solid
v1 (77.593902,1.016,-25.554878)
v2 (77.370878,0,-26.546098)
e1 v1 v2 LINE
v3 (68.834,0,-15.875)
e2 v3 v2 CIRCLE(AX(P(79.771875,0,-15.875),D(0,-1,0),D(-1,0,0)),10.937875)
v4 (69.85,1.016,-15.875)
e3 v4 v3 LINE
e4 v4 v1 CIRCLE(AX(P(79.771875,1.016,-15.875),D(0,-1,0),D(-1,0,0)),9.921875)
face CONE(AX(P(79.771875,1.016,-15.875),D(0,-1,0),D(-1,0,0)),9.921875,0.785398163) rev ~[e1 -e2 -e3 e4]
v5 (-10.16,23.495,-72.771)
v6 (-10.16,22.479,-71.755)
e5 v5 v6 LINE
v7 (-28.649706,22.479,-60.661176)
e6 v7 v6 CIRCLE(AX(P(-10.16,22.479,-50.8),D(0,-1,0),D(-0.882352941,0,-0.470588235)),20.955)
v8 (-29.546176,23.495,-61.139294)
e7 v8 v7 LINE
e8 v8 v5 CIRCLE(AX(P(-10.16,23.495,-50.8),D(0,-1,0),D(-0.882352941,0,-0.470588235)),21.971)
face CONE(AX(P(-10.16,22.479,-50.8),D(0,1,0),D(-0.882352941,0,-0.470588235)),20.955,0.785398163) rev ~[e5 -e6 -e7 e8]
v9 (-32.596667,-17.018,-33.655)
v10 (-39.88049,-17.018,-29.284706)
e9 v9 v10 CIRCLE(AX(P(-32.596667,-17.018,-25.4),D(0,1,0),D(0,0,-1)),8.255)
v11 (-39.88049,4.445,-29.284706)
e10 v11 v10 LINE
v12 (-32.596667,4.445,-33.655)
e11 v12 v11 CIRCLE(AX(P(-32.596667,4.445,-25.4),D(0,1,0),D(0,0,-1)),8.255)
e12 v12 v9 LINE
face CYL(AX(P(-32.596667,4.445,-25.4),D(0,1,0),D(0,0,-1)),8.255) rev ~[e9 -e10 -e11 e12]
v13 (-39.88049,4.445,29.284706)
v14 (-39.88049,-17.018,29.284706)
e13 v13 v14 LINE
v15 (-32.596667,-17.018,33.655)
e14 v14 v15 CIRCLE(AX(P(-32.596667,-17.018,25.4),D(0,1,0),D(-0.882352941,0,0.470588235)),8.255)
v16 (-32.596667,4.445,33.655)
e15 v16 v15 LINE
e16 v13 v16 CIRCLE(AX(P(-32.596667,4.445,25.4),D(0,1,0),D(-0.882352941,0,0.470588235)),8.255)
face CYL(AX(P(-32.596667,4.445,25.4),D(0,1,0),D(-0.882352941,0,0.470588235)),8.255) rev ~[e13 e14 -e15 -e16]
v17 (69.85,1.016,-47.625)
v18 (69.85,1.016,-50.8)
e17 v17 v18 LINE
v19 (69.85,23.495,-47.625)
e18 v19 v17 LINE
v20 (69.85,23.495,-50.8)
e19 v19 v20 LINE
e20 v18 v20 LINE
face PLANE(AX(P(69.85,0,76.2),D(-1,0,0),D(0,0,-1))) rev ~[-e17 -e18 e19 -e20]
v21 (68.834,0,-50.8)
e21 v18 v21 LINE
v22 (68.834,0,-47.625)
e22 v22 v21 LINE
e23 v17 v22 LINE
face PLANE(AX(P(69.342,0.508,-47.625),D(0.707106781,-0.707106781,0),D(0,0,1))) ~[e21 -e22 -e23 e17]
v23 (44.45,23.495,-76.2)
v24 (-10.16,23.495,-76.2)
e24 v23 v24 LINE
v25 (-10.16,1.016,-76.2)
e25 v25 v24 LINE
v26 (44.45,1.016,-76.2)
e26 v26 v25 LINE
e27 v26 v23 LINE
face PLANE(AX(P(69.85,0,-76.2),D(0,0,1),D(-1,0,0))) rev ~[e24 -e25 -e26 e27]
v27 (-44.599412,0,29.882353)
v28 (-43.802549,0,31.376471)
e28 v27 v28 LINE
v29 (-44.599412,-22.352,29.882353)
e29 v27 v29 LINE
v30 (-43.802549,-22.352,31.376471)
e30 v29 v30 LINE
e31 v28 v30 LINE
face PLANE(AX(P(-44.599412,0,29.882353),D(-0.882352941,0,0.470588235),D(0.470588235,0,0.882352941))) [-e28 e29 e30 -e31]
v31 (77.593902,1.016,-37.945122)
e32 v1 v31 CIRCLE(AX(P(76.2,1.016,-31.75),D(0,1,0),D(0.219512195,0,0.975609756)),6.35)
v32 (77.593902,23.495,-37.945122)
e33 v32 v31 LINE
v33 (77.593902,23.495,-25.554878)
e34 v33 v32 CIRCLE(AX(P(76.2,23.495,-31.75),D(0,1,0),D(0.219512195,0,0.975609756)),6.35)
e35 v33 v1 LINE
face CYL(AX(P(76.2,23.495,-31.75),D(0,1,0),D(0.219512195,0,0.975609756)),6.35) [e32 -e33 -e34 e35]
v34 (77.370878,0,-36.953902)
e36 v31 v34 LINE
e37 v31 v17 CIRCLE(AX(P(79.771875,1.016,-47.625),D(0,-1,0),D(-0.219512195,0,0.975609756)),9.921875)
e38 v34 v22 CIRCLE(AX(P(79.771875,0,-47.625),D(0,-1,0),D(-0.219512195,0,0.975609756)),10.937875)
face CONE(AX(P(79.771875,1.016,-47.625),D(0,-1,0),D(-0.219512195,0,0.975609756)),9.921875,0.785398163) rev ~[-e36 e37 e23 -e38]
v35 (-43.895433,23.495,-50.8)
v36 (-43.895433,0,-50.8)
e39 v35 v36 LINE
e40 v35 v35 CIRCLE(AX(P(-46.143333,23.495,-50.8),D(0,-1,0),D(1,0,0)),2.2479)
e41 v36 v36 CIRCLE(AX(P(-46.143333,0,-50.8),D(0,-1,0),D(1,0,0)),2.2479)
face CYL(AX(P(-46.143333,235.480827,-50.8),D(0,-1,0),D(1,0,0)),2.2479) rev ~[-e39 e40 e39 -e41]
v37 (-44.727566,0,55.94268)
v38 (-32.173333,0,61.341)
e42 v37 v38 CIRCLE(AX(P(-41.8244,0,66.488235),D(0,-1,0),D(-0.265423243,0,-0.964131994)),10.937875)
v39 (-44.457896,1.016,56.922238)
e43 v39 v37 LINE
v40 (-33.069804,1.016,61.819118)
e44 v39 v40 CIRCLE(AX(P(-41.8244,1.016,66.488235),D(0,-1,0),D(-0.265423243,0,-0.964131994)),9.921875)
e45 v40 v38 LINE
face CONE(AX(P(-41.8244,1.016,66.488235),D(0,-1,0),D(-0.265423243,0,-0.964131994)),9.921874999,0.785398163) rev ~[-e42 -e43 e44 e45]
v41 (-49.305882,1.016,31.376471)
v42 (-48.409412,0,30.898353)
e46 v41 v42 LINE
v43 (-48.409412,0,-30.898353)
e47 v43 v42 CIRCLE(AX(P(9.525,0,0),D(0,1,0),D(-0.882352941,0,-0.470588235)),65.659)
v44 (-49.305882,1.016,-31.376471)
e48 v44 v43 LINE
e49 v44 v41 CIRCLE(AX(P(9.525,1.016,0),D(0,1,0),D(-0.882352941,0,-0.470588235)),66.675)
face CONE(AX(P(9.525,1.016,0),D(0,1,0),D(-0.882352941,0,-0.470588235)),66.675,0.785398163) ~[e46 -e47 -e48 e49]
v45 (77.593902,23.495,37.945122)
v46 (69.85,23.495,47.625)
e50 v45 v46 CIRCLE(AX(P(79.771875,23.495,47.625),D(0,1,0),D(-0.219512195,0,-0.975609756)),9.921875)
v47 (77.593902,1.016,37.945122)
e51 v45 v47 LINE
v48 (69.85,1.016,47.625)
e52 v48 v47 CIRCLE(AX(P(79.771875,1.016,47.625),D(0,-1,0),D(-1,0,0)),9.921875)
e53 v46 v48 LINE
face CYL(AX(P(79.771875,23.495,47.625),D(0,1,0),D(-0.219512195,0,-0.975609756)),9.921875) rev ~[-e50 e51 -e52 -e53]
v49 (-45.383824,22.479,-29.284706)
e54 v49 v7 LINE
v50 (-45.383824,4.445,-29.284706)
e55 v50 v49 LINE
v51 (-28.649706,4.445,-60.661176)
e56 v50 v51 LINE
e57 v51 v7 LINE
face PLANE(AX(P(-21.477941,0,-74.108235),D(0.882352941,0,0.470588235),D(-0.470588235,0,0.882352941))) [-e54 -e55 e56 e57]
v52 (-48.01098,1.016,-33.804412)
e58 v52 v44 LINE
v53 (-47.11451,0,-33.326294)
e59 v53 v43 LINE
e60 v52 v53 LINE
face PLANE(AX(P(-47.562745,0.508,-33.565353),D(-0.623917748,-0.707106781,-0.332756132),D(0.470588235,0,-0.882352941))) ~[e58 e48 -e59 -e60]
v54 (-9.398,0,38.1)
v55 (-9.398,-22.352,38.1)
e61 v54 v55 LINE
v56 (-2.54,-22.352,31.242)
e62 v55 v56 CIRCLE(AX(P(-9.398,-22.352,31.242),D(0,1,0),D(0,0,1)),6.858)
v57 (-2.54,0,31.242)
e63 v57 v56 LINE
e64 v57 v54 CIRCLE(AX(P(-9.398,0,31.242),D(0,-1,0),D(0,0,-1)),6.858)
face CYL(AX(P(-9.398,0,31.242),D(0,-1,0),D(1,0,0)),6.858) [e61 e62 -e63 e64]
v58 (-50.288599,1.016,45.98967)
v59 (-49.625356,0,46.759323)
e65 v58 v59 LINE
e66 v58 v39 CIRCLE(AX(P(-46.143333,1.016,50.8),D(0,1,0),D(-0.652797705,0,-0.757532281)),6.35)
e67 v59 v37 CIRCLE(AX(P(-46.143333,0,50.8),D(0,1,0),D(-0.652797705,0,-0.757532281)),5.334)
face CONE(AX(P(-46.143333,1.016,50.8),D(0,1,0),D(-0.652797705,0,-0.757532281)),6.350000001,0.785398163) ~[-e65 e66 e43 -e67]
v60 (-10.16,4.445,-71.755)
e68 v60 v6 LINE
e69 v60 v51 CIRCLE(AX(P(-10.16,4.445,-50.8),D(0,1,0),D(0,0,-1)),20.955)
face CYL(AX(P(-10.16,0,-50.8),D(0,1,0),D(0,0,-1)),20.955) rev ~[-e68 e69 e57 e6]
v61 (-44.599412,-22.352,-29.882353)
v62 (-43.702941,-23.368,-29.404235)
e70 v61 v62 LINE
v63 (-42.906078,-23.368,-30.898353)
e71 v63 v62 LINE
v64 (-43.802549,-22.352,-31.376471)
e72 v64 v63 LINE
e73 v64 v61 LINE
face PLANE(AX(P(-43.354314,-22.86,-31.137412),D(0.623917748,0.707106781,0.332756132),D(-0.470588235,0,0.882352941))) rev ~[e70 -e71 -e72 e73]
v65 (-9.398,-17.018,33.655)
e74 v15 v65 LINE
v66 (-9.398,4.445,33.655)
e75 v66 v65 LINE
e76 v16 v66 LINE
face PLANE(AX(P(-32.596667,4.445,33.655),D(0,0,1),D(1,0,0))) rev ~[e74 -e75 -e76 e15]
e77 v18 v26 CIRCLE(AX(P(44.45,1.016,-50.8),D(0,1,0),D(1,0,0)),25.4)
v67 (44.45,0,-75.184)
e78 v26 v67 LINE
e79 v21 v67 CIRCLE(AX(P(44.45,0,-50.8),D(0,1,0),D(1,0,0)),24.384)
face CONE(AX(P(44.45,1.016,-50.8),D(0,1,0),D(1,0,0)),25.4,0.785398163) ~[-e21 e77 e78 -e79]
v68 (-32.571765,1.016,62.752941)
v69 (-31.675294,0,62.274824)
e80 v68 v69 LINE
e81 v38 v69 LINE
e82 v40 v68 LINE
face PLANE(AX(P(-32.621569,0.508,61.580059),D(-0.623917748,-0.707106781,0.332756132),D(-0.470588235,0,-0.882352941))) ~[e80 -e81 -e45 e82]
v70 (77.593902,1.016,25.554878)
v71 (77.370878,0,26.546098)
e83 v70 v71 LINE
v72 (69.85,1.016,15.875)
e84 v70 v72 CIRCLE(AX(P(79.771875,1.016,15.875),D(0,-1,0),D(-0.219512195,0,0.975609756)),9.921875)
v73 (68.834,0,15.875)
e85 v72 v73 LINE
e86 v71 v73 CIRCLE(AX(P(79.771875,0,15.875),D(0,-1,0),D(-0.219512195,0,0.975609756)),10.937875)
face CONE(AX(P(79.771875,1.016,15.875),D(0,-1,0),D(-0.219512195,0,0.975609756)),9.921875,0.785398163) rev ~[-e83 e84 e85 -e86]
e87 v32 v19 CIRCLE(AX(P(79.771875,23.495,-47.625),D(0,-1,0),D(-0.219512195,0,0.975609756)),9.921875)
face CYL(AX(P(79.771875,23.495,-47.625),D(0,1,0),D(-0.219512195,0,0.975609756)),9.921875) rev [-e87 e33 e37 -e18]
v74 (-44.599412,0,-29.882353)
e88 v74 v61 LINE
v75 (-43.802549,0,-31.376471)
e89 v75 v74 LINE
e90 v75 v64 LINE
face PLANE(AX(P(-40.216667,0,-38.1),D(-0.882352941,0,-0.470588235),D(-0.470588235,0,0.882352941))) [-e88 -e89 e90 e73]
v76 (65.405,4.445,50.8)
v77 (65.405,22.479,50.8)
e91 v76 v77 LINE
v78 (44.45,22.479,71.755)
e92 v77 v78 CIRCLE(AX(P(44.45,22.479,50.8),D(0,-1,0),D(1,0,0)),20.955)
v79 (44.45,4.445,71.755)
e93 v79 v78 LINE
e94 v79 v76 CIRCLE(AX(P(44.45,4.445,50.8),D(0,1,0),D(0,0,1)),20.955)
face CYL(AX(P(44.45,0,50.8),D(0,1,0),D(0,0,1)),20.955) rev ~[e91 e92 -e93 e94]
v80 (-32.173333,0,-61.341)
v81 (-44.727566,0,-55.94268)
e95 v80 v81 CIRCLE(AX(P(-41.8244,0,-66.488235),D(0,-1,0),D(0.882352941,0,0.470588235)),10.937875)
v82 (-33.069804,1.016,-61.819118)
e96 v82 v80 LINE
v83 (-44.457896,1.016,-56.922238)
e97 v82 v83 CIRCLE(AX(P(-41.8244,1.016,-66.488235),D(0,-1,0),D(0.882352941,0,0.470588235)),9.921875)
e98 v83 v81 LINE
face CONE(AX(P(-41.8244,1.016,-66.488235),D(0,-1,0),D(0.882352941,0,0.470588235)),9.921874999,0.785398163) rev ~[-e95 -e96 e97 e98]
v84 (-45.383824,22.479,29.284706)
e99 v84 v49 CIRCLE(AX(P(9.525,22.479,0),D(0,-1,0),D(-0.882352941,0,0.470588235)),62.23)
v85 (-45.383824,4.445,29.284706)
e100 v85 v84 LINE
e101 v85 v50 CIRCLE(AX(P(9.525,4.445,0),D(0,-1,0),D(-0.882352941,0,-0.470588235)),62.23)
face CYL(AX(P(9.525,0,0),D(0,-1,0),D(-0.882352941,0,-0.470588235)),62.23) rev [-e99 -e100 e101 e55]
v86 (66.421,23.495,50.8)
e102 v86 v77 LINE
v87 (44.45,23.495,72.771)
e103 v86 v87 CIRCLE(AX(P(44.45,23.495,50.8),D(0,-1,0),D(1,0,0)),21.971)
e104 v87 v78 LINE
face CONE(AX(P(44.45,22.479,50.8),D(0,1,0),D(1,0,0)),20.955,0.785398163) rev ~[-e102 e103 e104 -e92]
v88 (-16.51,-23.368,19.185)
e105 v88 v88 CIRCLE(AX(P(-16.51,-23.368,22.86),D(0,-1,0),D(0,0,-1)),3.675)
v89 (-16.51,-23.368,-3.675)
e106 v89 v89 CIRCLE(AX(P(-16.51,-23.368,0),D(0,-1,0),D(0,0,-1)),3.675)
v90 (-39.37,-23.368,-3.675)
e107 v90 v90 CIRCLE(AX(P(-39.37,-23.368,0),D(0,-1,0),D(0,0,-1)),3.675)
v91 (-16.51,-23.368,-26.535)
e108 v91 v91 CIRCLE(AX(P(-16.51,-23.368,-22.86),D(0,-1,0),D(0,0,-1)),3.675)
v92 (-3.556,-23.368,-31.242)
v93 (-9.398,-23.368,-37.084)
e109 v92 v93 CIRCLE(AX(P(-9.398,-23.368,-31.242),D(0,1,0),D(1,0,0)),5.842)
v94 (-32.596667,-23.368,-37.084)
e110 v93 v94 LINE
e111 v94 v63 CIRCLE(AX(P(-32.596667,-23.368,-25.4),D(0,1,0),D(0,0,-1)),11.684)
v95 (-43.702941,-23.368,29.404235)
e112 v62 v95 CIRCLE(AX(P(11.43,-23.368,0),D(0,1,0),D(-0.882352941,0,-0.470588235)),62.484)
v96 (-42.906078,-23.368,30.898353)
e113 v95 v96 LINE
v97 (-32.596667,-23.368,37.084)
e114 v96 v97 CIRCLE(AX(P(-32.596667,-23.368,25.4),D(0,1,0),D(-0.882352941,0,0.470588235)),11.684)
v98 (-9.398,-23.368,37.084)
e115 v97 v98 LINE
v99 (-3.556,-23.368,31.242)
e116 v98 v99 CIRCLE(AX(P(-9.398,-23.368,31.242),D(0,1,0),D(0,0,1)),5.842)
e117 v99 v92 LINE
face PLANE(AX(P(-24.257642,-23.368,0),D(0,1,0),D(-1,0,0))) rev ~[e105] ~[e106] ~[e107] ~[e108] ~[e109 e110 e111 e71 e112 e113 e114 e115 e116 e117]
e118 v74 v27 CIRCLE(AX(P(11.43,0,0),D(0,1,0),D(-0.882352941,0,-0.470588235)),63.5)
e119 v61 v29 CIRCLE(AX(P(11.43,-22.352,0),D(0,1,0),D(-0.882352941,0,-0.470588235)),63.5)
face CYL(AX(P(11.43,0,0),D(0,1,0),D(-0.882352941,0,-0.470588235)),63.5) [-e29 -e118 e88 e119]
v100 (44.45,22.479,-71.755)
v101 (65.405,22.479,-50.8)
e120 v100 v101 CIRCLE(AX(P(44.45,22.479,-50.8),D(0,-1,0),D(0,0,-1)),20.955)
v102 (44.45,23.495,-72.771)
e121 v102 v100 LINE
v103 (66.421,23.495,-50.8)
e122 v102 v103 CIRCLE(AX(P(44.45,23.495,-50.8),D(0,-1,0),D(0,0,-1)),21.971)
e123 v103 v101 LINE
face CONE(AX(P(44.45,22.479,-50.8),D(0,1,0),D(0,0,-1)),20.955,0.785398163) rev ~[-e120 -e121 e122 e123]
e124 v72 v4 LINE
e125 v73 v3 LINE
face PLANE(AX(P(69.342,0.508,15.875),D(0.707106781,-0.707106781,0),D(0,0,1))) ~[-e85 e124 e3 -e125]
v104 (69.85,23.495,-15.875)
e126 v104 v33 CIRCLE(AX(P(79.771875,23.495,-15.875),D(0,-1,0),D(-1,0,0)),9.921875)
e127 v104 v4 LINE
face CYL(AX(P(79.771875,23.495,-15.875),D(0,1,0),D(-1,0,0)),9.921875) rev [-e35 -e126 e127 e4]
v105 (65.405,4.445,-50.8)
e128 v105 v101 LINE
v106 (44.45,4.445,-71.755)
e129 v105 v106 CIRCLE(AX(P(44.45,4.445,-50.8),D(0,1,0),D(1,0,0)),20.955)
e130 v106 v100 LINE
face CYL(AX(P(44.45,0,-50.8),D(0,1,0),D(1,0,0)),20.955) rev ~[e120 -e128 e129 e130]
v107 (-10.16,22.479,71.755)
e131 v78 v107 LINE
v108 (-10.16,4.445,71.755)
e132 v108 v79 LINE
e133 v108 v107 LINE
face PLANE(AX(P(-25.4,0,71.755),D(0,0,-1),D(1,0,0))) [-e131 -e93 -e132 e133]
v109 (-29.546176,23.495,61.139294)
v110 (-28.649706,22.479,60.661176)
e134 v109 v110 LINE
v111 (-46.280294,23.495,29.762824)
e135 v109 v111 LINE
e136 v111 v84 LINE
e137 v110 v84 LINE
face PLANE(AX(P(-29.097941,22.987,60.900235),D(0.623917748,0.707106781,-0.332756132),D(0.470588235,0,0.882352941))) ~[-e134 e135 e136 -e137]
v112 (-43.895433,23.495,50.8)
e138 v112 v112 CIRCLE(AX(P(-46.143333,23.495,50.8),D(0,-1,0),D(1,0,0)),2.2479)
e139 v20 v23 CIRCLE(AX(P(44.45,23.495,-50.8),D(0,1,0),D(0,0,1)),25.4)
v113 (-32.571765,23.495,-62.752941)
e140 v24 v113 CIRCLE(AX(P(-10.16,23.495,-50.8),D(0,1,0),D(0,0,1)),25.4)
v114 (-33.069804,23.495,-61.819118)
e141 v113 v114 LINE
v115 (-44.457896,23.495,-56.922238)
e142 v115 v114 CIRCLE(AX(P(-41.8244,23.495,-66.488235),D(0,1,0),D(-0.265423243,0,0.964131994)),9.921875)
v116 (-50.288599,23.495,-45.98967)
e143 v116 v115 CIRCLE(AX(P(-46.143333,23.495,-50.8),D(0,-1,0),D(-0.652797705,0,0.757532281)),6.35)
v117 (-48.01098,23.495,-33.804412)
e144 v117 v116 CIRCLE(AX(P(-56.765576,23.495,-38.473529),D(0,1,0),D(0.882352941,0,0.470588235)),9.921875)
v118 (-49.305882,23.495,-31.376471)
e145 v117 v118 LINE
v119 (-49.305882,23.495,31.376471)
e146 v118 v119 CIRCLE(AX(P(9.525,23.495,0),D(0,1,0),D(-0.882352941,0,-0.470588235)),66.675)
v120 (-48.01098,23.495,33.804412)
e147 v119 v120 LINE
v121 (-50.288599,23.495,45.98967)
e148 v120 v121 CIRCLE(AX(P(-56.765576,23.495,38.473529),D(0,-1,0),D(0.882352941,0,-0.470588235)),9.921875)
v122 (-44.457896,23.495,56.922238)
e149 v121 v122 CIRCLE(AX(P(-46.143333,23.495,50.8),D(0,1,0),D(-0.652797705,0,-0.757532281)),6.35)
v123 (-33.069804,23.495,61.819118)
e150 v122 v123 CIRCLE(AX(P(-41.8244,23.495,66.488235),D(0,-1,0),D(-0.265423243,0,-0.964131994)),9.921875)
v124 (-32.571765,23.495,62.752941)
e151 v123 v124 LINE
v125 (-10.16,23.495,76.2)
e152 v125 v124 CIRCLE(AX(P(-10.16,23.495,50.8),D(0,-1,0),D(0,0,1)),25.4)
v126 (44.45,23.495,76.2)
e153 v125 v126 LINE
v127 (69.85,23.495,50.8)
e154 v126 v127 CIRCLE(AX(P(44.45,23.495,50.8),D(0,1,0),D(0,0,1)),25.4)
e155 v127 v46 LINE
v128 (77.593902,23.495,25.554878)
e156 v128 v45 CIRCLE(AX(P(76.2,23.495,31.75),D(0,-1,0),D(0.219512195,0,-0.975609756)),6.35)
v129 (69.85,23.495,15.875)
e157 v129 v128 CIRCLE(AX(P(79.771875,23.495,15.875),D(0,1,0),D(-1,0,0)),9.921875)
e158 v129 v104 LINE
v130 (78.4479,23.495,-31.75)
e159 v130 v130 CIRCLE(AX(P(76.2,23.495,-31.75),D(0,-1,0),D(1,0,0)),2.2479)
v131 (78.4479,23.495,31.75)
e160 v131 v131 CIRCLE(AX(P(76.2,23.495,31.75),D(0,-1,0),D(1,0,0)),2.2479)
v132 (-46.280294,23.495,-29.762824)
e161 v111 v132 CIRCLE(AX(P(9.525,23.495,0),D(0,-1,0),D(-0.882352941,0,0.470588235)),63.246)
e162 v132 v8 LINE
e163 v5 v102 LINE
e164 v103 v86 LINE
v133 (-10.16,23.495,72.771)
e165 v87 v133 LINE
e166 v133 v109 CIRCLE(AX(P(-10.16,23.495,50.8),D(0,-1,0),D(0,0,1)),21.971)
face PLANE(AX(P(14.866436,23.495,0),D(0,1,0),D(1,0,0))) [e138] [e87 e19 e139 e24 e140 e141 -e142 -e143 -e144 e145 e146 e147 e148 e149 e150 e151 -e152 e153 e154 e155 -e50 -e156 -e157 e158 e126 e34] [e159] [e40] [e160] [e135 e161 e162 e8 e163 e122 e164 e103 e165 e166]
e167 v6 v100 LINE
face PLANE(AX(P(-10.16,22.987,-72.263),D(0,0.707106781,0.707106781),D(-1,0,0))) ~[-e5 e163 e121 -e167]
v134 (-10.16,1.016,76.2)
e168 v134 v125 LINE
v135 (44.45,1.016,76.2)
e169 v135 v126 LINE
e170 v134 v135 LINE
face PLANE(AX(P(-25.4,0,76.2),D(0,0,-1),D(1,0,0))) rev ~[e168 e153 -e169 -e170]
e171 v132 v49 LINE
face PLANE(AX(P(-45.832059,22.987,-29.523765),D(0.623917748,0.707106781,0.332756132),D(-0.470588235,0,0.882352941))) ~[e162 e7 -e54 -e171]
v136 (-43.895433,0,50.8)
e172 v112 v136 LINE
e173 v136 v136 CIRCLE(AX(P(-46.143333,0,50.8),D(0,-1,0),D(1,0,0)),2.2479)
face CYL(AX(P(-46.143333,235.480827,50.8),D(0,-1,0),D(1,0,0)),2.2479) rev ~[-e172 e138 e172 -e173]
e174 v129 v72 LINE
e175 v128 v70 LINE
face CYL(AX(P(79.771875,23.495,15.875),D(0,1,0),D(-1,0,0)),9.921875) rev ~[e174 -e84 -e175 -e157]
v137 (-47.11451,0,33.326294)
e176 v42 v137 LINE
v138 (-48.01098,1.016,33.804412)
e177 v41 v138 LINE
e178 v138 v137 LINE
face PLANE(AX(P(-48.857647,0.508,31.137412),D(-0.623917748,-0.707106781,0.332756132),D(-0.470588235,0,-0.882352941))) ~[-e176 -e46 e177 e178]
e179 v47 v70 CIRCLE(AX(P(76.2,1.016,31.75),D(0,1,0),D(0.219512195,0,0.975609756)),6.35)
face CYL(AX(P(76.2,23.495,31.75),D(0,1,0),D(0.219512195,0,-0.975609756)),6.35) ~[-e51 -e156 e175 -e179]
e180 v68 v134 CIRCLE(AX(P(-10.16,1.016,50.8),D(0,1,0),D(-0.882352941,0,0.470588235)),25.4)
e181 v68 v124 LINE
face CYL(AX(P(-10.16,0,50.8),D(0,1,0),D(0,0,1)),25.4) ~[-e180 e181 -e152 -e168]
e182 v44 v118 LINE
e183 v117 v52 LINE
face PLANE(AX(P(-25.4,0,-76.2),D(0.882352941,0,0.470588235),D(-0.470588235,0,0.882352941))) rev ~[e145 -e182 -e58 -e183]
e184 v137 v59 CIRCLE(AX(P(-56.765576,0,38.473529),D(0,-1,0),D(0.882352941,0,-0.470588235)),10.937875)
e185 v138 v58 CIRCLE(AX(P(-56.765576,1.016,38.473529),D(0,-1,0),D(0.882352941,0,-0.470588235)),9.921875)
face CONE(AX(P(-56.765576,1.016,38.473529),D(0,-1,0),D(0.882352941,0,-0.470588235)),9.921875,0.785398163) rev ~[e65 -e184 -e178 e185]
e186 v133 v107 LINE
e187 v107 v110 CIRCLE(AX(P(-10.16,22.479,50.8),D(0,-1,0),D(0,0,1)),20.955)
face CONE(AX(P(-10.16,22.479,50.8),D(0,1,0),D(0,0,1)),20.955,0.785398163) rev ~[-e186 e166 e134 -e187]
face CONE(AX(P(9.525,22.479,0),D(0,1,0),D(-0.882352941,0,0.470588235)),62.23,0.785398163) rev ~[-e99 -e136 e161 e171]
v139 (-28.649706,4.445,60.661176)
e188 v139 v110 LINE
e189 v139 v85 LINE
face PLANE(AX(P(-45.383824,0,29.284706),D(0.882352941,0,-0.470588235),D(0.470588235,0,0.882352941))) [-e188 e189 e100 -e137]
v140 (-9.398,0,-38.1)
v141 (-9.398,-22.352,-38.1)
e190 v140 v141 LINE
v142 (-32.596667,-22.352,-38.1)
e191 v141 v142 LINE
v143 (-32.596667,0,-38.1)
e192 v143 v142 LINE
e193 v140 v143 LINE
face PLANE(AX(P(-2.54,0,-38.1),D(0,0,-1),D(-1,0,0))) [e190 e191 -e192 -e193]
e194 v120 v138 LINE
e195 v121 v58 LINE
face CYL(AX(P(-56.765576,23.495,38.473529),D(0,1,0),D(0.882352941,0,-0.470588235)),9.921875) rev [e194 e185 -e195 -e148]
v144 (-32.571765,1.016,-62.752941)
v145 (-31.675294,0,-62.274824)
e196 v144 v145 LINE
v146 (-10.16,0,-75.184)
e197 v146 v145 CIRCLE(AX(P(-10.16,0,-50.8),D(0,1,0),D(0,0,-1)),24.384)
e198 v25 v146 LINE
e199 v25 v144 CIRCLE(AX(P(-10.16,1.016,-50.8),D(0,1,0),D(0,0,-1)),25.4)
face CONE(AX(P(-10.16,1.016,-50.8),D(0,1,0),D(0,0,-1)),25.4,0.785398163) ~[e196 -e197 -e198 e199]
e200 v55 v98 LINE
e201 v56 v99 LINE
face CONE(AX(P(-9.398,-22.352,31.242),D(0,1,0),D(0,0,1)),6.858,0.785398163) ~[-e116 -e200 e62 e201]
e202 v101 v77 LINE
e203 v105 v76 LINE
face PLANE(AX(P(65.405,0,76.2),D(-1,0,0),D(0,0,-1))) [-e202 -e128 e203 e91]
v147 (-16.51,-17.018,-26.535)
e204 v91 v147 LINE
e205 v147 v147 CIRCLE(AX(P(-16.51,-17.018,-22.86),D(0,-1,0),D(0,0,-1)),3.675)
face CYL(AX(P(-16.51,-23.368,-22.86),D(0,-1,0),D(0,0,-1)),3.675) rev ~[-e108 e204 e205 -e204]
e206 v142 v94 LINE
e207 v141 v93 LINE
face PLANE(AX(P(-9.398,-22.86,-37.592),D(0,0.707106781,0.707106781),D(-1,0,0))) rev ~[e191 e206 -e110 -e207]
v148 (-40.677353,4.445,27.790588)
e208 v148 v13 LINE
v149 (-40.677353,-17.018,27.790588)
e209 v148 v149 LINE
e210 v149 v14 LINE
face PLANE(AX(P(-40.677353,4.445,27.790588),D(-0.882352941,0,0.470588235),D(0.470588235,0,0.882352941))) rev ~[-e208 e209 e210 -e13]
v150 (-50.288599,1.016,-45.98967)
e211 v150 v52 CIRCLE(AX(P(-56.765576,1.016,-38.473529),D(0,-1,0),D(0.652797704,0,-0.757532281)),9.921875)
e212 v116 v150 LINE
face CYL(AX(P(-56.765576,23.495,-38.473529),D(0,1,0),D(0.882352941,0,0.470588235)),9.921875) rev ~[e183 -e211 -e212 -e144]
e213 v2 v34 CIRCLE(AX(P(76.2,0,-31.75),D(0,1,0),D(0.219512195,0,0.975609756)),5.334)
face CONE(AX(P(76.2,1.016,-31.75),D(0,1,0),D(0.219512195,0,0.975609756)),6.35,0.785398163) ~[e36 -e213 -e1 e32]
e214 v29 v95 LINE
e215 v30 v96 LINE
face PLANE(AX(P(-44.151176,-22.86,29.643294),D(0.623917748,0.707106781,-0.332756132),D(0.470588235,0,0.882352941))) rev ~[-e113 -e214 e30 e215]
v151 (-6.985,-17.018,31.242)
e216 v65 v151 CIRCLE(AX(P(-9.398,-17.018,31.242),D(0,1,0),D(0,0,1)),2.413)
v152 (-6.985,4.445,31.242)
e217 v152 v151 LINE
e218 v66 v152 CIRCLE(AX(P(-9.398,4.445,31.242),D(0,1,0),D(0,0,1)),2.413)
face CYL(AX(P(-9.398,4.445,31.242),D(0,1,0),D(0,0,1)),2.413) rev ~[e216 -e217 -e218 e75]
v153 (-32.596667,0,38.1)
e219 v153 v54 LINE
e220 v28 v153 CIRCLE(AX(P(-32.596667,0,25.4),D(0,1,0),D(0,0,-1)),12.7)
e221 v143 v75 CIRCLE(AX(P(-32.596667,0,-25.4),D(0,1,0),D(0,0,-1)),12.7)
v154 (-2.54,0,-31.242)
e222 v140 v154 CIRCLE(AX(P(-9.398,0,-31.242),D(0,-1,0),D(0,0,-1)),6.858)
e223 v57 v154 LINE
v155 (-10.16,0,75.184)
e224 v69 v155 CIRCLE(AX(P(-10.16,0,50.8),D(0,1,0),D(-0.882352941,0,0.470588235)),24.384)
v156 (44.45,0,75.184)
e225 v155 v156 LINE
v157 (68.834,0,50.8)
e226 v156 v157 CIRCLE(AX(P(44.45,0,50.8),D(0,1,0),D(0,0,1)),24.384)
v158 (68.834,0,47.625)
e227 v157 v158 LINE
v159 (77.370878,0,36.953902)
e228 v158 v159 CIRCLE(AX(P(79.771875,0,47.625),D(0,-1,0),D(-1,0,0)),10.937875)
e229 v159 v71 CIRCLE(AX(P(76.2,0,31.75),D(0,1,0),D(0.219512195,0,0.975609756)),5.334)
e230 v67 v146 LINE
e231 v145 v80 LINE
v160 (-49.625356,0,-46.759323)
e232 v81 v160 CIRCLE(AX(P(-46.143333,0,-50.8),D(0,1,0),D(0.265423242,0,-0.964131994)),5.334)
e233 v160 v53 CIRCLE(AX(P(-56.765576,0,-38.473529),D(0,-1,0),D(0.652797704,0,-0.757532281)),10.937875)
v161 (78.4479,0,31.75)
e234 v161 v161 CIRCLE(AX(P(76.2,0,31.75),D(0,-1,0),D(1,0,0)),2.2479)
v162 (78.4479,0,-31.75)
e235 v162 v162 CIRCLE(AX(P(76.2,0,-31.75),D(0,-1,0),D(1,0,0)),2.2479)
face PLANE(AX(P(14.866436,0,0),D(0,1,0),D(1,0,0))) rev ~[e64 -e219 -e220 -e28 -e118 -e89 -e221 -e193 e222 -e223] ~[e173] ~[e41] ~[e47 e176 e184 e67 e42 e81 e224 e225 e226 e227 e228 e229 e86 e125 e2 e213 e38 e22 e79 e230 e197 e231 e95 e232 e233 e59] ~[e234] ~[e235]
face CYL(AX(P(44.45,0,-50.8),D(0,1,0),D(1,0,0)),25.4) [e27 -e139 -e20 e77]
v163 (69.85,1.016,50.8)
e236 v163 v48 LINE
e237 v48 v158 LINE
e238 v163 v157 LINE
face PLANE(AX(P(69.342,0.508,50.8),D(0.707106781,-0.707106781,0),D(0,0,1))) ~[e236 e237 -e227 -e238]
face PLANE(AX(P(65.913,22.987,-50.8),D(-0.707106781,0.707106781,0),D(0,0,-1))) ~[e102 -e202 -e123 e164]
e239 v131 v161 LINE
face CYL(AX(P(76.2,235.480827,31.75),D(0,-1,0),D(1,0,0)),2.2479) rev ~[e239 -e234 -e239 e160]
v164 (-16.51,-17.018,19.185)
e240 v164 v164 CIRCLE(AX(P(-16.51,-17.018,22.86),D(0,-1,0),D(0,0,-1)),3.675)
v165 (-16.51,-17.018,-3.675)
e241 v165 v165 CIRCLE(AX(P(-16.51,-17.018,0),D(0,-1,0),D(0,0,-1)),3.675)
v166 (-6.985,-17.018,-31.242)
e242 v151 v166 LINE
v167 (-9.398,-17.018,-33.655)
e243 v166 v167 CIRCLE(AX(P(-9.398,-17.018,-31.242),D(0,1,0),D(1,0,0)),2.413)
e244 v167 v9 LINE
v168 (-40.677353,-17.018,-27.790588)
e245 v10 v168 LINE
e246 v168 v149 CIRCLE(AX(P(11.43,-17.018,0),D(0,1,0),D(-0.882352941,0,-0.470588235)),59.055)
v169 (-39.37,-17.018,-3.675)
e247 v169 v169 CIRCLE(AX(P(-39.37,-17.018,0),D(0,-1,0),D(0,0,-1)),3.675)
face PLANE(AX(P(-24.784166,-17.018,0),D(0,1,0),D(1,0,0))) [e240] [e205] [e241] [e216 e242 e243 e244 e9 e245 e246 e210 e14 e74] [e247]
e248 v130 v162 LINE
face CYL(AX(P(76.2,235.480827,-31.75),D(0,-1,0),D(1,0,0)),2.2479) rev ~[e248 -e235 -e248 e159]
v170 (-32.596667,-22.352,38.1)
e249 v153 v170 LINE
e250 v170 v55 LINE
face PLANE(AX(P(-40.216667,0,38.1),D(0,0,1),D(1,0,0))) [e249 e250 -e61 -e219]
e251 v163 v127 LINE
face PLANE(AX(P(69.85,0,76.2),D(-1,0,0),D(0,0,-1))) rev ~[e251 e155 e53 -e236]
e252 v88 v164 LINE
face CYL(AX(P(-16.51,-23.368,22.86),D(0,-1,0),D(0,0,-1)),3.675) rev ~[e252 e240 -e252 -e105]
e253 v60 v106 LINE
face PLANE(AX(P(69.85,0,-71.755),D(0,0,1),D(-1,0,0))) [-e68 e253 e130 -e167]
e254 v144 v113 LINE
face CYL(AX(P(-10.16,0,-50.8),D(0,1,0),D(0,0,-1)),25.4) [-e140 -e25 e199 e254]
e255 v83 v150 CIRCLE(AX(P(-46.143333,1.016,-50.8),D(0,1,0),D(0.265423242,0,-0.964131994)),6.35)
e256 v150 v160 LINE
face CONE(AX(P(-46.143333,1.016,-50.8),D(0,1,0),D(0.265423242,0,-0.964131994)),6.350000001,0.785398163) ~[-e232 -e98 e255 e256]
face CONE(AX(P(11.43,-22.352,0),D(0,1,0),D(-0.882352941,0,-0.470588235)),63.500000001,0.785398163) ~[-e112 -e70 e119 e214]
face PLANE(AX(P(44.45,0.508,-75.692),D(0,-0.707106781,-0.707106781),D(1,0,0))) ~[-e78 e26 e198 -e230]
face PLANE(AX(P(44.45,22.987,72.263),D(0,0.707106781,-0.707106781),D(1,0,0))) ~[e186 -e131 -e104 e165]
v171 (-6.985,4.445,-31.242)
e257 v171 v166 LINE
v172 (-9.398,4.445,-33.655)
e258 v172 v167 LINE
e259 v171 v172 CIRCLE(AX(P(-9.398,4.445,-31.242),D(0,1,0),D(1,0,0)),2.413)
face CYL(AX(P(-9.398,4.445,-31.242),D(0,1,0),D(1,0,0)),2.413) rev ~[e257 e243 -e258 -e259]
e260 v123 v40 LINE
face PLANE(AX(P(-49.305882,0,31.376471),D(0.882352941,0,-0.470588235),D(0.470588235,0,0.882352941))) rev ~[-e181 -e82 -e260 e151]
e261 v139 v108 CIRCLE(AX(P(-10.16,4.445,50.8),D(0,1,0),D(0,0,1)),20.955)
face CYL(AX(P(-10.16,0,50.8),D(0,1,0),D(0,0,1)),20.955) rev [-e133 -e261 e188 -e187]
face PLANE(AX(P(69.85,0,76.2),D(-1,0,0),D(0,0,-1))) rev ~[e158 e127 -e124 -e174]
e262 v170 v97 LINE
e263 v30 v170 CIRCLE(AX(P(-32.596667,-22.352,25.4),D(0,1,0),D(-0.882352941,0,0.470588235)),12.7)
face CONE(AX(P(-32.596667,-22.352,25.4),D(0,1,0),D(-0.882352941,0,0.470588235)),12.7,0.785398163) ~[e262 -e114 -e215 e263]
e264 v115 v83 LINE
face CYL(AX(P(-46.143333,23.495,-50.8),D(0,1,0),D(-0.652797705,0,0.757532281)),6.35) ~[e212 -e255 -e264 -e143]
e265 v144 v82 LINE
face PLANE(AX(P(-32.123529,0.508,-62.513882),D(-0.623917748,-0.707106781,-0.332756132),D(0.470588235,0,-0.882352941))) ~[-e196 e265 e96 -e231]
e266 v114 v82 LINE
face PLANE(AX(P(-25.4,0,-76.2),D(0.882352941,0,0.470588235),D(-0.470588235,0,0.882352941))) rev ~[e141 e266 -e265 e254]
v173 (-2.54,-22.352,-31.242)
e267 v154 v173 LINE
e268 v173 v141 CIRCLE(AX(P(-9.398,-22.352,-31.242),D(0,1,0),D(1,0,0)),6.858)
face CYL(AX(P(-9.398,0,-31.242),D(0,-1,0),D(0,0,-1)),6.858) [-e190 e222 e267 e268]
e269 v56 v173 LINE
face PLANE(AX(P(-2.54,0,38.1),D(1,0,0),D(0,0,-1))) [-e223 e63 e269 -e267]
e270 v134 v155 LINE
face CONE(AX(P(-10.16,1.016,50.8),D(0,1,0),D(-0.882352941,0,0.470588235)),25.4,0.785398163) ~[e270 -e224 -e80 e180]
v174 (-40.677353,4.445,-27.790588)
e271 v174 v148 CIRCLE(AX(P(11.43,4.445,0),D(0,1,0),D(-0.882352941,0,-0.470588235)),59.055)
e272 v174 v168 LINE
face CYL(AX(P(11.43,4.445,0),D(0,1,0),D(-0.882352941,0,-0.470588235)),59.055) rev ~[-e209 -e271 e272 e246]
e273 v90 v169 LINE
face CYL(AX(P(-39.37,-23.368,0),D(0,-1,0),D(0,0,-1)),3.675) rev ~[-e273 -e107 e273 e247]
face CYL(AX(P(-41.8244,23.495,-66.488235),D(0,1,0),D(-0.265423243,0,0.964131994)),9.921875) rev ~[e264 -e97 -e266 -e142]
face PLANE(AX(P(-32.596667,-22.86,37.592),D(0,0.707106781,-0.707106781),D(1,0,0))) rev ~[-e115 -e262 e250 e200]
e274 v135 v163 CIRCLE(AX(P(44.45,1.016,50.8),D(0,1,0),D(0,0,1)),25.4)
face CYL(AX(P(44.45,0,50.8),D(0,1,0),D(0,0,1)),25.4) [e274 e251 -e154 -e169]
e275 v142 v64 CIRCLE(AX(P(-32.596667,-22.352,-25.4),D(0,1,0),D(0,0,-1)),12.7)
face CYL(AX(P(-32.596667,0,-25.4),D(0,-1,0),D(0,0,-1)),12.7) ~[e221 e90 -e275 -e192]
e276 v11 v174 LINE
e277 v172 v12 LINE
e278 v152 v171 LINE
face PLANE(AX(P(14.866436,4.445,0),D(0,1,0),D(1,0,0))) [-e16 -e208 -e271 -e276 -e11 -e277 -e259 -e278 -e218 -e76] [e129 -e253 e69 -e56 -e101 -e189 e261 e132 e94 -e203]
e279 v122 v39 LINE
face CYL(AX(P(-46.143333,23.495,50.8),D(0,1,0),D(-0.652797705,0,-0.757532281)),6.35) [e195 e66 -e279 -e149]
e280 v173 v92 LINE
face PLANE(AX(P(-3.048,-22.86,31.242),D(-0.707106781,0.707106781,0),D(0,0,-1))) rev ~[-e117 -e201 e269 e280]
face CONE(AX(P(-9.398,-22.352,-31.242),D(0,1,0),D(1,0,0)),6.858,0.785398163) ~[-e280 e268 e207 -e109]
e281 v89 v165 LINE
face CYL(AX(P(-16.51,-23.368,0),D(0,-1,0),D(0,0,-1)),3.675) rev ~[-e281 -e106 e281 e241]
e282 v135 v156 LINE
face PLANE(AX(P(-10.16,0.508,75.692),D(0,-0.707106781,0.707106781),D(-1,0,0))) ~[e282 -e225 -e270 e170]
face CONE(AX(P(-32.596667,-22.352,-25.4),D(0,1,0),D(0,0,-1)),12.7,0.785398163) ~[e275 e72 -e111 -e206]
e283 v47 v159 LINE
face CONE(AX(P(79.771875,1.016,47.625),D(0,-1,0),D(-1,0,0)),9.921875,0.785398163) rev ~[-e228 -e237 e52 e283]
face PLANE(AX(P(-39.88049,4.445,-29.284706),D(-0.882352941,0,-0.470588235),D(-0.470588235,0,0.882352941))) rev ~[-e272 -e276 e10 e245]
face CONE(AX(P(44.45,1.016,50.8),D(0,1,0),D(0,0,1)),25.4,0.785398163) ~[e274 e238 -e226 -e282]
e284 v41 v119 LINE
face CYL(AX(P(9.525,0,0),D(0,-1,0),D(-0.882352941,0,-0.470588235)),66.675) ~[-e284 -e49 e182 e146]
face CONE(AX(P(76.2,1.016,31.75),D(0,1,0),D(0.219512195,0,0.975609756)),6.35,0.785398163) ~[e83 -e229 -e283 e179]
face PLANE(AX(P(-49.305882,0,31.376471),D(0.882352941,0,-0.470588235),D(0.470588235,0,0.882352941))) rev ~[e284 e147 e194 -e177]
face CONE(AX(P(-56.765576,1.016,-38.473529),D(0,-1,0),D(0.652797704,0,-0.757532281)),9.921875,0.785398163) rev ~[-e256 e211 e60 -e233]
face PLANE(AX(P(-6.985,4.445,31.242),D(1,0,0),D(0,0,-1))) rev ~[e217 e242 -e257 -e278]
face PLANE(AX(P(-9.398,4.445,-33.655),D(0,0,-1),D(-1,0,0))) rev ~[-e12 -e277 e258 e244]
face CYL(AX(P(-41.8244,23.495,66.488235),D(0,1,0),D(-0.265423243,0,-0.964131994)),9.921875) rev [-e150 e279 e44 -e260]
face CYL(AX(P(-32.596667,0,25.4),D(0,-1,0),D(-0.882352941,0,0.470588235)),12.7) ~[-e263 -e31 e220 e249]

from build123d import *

# Parameters (mm, degrees)
BOSS_EXTRUDE1_DEPTH   = 23.495
FILLET1_R             = 25.4
SHELL1_T              = -4.445
NUB_DEPTH             = 23.368
FILLET2_R             = 12.7
FILLET3_R             = 6.858
CUT_EXTRUDE1_DEPTH    = 21.463
CHAMFER1_SIZE         = 1.016
BOSS_EXTRUDE2_DEPTH   = 23.495
F_8_CLEARANCE_HOLE1_D = 4.4958
CHAMFER2_SIZE         = 1.016
SKETCH14_R            = 3.675
CUT_EXTRUDE2_DEPTH    = 122.72544216


with BuildPart() as part:
    # Sketch1 → Boss-Extrude1 (new body)
    with BuildSketch(Plane(origin=(0, 0, 0), x_dir=(1, 0, 0), z_dir=(0, 1, 0))):
        with BuildLine():
            Line((-25.4, -76.2), (69.85, -76.2))
            Line((69.85, -76.2), (69.85, 76.2))
            Line((69.85, 76.2), (-25.4, 76.2))
            Line((-25.4, 76.2), (-49.305882353, 31.376470588))
            ThreePointArc((-49.305882353, 31.376470588), (-57.15, 0), (-49.305882353, -31.376470588))
            Line((-49.305882353, -31.376470588), (-25.4, -76.2))
        make_face()
    extrude(amount=BOSS_EXTRUDE1_DEPTH)

    # Fillet1
    fillet1_edges = [part.edges().sort_by_distance(p)[0] for p in [
        (69.85, 11.7475, 76.2),
        (-25.4, 11.7475, 76.2),
        (-25.4, 11.7475, -76.2),
        (69.85, 11.7475, -76.2),
    ]]
    fillet(fillet1_edges, radius=FILLET1_R)

    # Shell1
    shell1_openings = [part.faces().sort_by_distance(p)[0] for p in [
        (11.569703313, 23.495, 0),
    ]]
    offset(amount=SHELL1_T, openings=shell1_openings, kind=Kind.INTERSECTION)

    # Sketch13 → nub (add)
    with BuildSketch(Plane.XZ):
        with BuildLine():
            Line((-2.54, 38.1), (-2.54, -38.1))
            Line((-2.54, -38.1), (-40.216666667, -38.1))
            Line((-40.216666667, -38.1), (-44.599411765, -29.882352941))
            ThreePointArc((-44.599411765, -29.882352941), (-52.07, 0), (-44.599411765, 29.882352941))
            Line((-44.599411765, 29.882352941), (-40.216666667, 38.1))
            Line((-40.216666667, 38.1), (-2.54, 38.1))
        make_face()
    extrude(amount=NUB_DEPTH)

    # Fillet2
    fillet2_edges = [part.edges().sort_by_distance(p)[0] for p in [
        (-40.216666667, -11.684, 38.1),
        (-40.216666667, -11.684, -38.1),
    ]]
    fillet(fillet2_edges, radius=FILLET2_R)

    # Fillet3
    fillet3_edges = [part.edges().sort_by_distance(p)[0] for p in [
        (-2.54, -11.684, 38.1),
        (-2.54, -11.684, -38.1),
    ]]
    fillet(fillet3_edges, radius=FILLET3_R)

    # Sketch8 → Cut-Extrude1 (cut)
    with BuildSketch(Plane(origin=(0, 4.445, 0), x_dir=(1, 0, 0), z_dir=(0, 1, 0))):
        with BuildLine():
            Line((-32.596666667, -33.655), (-9.398, -33.655))
            ThreePointArc((-9.398, -33.655), (-7.691751337, -32.948248663), (-6.985, -31.242))
            Line((-6.985, -31.242), (-6.985, 31.242))
            ThreePointArc((-6.985, 31.242), (-7.691751337, 32.948248663), (-9.398, 33.655))
            Line((-9.398, 33.655), (-32.596666667, 33.655))
            ThreePointArc((-32.596666667, 33.655), (-36.843829128, 32.478604102), (-39.880490196, 29.284705882))
            Line((-39.880490196, 29.284705882), (-40.677352941, 27.790588235))
            ThreePointArc((-40.677352941, 27.790588235), (-47.625, 0), (-40.677352941, -27.790588235))
            Line((-40.677352941, -27.790588235), (-39.880490196, -29.284705882))
            ThreePointArc((-39.880490196, -29.284705882), (-36.843829128, -32.478604102), (-32.596666667, -33.655))
        make_face()
    extrude(amount=-CUT_EXTRUDE1_DEPTH, mode=Mode.SUBTRACT)

    # Chamfer1
    chamfer1_edges = [part.edges().sort_by_distance(p)[0] for p in [
        (-37.016764706, 23.495, 44.972941176),
        (-20.941258555, 23.495, 68.768764258),
        (17.145, 23.495, 71.755),
        (59.2674226, 23.495, 65.6174226),
        (65.405, 23.495, 0),
        (59.2674226, 23.495, -65.6174226),
        (17.145, 23.495, -71.755),
        (-20.941258555, 23.495, -68.768764258),
        (-37.016764706, 23.495, -44.972941176),
        (-52.705, 23.495, 0),
    ]]
    chamfer(chamfer1_edges, length=CHAMFER1_SIZE)

    # Sketch10 → Boss-Extrude2 (add)
    with BuildSketch(Plane(origin=(0, 23.495, 0), x_dir=(1, 0, 0), z_dir=(0, 1, 0))):
        with BuildLine():
            Line((69.85, 47.625), (69.85, 15.875))
            ThreePointArc((69.85, 15.875), (72.024192281, 22.073146175), (77.593902439, 25.554878049))
            ThreePointArc((77.593902439, 25.554878049), (82.55, 31.75), (77.593902439, 37.945121951))
            ThreePointArc((77.593902439, 37.945121951), (72.024192281, 41.426853825), (69.85, 47.625))
        make_face()
        with BuildLine():
            Line((69.85, -47.625), (69.85, -15.875))
            ThreePointArc((69.85, -15.875), (72.024192281, -22.073146175), (77.593902439, -25.554878049))
            ThreePointArc((77.593902439, -25.554878049), (82.55, -31.75), (77.593902439, -37.945121951))
            ThreePointArc((77.593902439, -37.945121951), (72.024192281, -41.426853825), (69.85, -47.625))
        make_face()
        with BuildLine():
            Line((-33.069803922, 61.819117647), (-48.010980392, 33.804411765))
            ThreePointArc((-48.010980392, 33.804411765), (-47.012610676, 40.296513581), (-50.288598757, 45.989670014))
            ThreePointArc((-50.288598757, 45.989670014), (-51.74627451, 53.788235294), (-44.457895744, 56.922238164))
            ThreePointArc((-44.457895744, 56.922238164), (-37.904983546, 57.373314449), (-33.069803922, 61.819117647))
        make_face()
        with BuildLine():
            Line((-33.069803922, -61.819117647), (-48.010980392, -33.804411765))
            ThreePointArc((-48.010980392, -33.804411765), (-47.012610676, -40.296513581), (-50.288598757, -45.989670014))
            ThreePointArc((-50.288598757, -45.989670014), (-51.74627451, -53.788235294), (-44.457895744, -56.922238164))
            ThreePointArc((-44.457895744, -56.922238164), (-37.904983546, -57.373314449), (-33.069803922, -61.819117647))
        make_face()
    extrude(amount=-BOSS_EXTRUDE2_DEPTH)

    # #8 Clearance Hole1 (through all)
    with Locations(Plane(origin=(0, 23.495, 0), x_dir=(-1, 0, 0), z_dir=(0, 1, 0))):
        with Locations((46.143333333, -50.8), (46.143333333, 50.8), (-76.2, 31.75), (-76.2, -31.75)):
            Hole(F_8_CLEARANCE_HOLE1_D / 2)

    # Chamfer2
    chamfer2_edges = [part.edges().sort_by_distance(p)[0] for p in [
        (-20.997333333, -23.368, 38.1),
        (-4.548661695, -23.368, 36.091338305),
        (-4.548661695, -23.368, -36.091338305),
        (69.85, 0, -49.2125),
        (72.024192281, 0, -22.073146175),
        (82.55, 0, -31.75),
        (72.024192281, 0, -41.426853825),
        (69.85, 0, 0),
        (72.024192281, 0, 22.073146175),
        (72.024192281, 0, 41.426853825),
        (82.55, 0, 31.75),
        (17.145, 0, 76.2),
        (-48.658431373, 0, -32.590441176),
        (-51.74627451, 0, -53.788235294),
        (-47.012610676, 0, -40.296513581),
        (-37.904983546, 0, -57.373314449),
        (-32.820784314, 0, 62.286029412),
        (-47.012610676, 0, 40.296513581),
        (-51.74627451, 0, 53.788235294),
        (-37.904983546, 0, 57.373314449),
        (69.85, 0, 49.2125),
        (-32.820784314, 0, -62.286029412),
        (17.145, 0, -76.2),
        (-23.228192188, 0, -72.580320313),
        (62.410512242, 0, -68.760512242),
        (62.410512242, 0, 68.760512242),
        (-23.228192188, 0, 72.580320313),
        (-48.658431373, 0, 32.590441176),
        (-57.15, 0, 0),
        (-52.07, -23.368, 0),
        (-44.200980392, -23.368, -30.629411765),
        (-20.997333333, -23.368, -38.1),
        (-44.200980392, -23.368, 30.629411765),
        (-39.130762761, -23.368, 36.290160157),
        (-39.130762761, -23.368, -36.290160157),
        (-2.54, -23.368, 0),
    ]]
    chamfer(chamfer2_edges, length=CHAMFER2_SIZE)

    # Sketch14 → Cut-Extrude2 (cut, through all)
    with BuildSketch(Plane.XZ.offset(23.368)):
        with Locations(Location((-16.51, 22.86, 0), (0, 0, 270))):
            Circle(SKETCH14_R)
        with Locations(Location((-16.51, 0, 0), (0, 0, 270))):
            Circle(SKETCH14_R)
        with Locations(Location((-16.51, -22.86, 0), (0, 0, 270))):
            Circle(SKETCH14_R)
        with Locations(Location((-39.37, 0, 0), (0, 0, 270))):
            Circle(SKETCH14_R)
    extrude(amount=-CUT_EXTRUDE2_DEPTH, mode=Mode.SUBTRACT)


solid = part.part
